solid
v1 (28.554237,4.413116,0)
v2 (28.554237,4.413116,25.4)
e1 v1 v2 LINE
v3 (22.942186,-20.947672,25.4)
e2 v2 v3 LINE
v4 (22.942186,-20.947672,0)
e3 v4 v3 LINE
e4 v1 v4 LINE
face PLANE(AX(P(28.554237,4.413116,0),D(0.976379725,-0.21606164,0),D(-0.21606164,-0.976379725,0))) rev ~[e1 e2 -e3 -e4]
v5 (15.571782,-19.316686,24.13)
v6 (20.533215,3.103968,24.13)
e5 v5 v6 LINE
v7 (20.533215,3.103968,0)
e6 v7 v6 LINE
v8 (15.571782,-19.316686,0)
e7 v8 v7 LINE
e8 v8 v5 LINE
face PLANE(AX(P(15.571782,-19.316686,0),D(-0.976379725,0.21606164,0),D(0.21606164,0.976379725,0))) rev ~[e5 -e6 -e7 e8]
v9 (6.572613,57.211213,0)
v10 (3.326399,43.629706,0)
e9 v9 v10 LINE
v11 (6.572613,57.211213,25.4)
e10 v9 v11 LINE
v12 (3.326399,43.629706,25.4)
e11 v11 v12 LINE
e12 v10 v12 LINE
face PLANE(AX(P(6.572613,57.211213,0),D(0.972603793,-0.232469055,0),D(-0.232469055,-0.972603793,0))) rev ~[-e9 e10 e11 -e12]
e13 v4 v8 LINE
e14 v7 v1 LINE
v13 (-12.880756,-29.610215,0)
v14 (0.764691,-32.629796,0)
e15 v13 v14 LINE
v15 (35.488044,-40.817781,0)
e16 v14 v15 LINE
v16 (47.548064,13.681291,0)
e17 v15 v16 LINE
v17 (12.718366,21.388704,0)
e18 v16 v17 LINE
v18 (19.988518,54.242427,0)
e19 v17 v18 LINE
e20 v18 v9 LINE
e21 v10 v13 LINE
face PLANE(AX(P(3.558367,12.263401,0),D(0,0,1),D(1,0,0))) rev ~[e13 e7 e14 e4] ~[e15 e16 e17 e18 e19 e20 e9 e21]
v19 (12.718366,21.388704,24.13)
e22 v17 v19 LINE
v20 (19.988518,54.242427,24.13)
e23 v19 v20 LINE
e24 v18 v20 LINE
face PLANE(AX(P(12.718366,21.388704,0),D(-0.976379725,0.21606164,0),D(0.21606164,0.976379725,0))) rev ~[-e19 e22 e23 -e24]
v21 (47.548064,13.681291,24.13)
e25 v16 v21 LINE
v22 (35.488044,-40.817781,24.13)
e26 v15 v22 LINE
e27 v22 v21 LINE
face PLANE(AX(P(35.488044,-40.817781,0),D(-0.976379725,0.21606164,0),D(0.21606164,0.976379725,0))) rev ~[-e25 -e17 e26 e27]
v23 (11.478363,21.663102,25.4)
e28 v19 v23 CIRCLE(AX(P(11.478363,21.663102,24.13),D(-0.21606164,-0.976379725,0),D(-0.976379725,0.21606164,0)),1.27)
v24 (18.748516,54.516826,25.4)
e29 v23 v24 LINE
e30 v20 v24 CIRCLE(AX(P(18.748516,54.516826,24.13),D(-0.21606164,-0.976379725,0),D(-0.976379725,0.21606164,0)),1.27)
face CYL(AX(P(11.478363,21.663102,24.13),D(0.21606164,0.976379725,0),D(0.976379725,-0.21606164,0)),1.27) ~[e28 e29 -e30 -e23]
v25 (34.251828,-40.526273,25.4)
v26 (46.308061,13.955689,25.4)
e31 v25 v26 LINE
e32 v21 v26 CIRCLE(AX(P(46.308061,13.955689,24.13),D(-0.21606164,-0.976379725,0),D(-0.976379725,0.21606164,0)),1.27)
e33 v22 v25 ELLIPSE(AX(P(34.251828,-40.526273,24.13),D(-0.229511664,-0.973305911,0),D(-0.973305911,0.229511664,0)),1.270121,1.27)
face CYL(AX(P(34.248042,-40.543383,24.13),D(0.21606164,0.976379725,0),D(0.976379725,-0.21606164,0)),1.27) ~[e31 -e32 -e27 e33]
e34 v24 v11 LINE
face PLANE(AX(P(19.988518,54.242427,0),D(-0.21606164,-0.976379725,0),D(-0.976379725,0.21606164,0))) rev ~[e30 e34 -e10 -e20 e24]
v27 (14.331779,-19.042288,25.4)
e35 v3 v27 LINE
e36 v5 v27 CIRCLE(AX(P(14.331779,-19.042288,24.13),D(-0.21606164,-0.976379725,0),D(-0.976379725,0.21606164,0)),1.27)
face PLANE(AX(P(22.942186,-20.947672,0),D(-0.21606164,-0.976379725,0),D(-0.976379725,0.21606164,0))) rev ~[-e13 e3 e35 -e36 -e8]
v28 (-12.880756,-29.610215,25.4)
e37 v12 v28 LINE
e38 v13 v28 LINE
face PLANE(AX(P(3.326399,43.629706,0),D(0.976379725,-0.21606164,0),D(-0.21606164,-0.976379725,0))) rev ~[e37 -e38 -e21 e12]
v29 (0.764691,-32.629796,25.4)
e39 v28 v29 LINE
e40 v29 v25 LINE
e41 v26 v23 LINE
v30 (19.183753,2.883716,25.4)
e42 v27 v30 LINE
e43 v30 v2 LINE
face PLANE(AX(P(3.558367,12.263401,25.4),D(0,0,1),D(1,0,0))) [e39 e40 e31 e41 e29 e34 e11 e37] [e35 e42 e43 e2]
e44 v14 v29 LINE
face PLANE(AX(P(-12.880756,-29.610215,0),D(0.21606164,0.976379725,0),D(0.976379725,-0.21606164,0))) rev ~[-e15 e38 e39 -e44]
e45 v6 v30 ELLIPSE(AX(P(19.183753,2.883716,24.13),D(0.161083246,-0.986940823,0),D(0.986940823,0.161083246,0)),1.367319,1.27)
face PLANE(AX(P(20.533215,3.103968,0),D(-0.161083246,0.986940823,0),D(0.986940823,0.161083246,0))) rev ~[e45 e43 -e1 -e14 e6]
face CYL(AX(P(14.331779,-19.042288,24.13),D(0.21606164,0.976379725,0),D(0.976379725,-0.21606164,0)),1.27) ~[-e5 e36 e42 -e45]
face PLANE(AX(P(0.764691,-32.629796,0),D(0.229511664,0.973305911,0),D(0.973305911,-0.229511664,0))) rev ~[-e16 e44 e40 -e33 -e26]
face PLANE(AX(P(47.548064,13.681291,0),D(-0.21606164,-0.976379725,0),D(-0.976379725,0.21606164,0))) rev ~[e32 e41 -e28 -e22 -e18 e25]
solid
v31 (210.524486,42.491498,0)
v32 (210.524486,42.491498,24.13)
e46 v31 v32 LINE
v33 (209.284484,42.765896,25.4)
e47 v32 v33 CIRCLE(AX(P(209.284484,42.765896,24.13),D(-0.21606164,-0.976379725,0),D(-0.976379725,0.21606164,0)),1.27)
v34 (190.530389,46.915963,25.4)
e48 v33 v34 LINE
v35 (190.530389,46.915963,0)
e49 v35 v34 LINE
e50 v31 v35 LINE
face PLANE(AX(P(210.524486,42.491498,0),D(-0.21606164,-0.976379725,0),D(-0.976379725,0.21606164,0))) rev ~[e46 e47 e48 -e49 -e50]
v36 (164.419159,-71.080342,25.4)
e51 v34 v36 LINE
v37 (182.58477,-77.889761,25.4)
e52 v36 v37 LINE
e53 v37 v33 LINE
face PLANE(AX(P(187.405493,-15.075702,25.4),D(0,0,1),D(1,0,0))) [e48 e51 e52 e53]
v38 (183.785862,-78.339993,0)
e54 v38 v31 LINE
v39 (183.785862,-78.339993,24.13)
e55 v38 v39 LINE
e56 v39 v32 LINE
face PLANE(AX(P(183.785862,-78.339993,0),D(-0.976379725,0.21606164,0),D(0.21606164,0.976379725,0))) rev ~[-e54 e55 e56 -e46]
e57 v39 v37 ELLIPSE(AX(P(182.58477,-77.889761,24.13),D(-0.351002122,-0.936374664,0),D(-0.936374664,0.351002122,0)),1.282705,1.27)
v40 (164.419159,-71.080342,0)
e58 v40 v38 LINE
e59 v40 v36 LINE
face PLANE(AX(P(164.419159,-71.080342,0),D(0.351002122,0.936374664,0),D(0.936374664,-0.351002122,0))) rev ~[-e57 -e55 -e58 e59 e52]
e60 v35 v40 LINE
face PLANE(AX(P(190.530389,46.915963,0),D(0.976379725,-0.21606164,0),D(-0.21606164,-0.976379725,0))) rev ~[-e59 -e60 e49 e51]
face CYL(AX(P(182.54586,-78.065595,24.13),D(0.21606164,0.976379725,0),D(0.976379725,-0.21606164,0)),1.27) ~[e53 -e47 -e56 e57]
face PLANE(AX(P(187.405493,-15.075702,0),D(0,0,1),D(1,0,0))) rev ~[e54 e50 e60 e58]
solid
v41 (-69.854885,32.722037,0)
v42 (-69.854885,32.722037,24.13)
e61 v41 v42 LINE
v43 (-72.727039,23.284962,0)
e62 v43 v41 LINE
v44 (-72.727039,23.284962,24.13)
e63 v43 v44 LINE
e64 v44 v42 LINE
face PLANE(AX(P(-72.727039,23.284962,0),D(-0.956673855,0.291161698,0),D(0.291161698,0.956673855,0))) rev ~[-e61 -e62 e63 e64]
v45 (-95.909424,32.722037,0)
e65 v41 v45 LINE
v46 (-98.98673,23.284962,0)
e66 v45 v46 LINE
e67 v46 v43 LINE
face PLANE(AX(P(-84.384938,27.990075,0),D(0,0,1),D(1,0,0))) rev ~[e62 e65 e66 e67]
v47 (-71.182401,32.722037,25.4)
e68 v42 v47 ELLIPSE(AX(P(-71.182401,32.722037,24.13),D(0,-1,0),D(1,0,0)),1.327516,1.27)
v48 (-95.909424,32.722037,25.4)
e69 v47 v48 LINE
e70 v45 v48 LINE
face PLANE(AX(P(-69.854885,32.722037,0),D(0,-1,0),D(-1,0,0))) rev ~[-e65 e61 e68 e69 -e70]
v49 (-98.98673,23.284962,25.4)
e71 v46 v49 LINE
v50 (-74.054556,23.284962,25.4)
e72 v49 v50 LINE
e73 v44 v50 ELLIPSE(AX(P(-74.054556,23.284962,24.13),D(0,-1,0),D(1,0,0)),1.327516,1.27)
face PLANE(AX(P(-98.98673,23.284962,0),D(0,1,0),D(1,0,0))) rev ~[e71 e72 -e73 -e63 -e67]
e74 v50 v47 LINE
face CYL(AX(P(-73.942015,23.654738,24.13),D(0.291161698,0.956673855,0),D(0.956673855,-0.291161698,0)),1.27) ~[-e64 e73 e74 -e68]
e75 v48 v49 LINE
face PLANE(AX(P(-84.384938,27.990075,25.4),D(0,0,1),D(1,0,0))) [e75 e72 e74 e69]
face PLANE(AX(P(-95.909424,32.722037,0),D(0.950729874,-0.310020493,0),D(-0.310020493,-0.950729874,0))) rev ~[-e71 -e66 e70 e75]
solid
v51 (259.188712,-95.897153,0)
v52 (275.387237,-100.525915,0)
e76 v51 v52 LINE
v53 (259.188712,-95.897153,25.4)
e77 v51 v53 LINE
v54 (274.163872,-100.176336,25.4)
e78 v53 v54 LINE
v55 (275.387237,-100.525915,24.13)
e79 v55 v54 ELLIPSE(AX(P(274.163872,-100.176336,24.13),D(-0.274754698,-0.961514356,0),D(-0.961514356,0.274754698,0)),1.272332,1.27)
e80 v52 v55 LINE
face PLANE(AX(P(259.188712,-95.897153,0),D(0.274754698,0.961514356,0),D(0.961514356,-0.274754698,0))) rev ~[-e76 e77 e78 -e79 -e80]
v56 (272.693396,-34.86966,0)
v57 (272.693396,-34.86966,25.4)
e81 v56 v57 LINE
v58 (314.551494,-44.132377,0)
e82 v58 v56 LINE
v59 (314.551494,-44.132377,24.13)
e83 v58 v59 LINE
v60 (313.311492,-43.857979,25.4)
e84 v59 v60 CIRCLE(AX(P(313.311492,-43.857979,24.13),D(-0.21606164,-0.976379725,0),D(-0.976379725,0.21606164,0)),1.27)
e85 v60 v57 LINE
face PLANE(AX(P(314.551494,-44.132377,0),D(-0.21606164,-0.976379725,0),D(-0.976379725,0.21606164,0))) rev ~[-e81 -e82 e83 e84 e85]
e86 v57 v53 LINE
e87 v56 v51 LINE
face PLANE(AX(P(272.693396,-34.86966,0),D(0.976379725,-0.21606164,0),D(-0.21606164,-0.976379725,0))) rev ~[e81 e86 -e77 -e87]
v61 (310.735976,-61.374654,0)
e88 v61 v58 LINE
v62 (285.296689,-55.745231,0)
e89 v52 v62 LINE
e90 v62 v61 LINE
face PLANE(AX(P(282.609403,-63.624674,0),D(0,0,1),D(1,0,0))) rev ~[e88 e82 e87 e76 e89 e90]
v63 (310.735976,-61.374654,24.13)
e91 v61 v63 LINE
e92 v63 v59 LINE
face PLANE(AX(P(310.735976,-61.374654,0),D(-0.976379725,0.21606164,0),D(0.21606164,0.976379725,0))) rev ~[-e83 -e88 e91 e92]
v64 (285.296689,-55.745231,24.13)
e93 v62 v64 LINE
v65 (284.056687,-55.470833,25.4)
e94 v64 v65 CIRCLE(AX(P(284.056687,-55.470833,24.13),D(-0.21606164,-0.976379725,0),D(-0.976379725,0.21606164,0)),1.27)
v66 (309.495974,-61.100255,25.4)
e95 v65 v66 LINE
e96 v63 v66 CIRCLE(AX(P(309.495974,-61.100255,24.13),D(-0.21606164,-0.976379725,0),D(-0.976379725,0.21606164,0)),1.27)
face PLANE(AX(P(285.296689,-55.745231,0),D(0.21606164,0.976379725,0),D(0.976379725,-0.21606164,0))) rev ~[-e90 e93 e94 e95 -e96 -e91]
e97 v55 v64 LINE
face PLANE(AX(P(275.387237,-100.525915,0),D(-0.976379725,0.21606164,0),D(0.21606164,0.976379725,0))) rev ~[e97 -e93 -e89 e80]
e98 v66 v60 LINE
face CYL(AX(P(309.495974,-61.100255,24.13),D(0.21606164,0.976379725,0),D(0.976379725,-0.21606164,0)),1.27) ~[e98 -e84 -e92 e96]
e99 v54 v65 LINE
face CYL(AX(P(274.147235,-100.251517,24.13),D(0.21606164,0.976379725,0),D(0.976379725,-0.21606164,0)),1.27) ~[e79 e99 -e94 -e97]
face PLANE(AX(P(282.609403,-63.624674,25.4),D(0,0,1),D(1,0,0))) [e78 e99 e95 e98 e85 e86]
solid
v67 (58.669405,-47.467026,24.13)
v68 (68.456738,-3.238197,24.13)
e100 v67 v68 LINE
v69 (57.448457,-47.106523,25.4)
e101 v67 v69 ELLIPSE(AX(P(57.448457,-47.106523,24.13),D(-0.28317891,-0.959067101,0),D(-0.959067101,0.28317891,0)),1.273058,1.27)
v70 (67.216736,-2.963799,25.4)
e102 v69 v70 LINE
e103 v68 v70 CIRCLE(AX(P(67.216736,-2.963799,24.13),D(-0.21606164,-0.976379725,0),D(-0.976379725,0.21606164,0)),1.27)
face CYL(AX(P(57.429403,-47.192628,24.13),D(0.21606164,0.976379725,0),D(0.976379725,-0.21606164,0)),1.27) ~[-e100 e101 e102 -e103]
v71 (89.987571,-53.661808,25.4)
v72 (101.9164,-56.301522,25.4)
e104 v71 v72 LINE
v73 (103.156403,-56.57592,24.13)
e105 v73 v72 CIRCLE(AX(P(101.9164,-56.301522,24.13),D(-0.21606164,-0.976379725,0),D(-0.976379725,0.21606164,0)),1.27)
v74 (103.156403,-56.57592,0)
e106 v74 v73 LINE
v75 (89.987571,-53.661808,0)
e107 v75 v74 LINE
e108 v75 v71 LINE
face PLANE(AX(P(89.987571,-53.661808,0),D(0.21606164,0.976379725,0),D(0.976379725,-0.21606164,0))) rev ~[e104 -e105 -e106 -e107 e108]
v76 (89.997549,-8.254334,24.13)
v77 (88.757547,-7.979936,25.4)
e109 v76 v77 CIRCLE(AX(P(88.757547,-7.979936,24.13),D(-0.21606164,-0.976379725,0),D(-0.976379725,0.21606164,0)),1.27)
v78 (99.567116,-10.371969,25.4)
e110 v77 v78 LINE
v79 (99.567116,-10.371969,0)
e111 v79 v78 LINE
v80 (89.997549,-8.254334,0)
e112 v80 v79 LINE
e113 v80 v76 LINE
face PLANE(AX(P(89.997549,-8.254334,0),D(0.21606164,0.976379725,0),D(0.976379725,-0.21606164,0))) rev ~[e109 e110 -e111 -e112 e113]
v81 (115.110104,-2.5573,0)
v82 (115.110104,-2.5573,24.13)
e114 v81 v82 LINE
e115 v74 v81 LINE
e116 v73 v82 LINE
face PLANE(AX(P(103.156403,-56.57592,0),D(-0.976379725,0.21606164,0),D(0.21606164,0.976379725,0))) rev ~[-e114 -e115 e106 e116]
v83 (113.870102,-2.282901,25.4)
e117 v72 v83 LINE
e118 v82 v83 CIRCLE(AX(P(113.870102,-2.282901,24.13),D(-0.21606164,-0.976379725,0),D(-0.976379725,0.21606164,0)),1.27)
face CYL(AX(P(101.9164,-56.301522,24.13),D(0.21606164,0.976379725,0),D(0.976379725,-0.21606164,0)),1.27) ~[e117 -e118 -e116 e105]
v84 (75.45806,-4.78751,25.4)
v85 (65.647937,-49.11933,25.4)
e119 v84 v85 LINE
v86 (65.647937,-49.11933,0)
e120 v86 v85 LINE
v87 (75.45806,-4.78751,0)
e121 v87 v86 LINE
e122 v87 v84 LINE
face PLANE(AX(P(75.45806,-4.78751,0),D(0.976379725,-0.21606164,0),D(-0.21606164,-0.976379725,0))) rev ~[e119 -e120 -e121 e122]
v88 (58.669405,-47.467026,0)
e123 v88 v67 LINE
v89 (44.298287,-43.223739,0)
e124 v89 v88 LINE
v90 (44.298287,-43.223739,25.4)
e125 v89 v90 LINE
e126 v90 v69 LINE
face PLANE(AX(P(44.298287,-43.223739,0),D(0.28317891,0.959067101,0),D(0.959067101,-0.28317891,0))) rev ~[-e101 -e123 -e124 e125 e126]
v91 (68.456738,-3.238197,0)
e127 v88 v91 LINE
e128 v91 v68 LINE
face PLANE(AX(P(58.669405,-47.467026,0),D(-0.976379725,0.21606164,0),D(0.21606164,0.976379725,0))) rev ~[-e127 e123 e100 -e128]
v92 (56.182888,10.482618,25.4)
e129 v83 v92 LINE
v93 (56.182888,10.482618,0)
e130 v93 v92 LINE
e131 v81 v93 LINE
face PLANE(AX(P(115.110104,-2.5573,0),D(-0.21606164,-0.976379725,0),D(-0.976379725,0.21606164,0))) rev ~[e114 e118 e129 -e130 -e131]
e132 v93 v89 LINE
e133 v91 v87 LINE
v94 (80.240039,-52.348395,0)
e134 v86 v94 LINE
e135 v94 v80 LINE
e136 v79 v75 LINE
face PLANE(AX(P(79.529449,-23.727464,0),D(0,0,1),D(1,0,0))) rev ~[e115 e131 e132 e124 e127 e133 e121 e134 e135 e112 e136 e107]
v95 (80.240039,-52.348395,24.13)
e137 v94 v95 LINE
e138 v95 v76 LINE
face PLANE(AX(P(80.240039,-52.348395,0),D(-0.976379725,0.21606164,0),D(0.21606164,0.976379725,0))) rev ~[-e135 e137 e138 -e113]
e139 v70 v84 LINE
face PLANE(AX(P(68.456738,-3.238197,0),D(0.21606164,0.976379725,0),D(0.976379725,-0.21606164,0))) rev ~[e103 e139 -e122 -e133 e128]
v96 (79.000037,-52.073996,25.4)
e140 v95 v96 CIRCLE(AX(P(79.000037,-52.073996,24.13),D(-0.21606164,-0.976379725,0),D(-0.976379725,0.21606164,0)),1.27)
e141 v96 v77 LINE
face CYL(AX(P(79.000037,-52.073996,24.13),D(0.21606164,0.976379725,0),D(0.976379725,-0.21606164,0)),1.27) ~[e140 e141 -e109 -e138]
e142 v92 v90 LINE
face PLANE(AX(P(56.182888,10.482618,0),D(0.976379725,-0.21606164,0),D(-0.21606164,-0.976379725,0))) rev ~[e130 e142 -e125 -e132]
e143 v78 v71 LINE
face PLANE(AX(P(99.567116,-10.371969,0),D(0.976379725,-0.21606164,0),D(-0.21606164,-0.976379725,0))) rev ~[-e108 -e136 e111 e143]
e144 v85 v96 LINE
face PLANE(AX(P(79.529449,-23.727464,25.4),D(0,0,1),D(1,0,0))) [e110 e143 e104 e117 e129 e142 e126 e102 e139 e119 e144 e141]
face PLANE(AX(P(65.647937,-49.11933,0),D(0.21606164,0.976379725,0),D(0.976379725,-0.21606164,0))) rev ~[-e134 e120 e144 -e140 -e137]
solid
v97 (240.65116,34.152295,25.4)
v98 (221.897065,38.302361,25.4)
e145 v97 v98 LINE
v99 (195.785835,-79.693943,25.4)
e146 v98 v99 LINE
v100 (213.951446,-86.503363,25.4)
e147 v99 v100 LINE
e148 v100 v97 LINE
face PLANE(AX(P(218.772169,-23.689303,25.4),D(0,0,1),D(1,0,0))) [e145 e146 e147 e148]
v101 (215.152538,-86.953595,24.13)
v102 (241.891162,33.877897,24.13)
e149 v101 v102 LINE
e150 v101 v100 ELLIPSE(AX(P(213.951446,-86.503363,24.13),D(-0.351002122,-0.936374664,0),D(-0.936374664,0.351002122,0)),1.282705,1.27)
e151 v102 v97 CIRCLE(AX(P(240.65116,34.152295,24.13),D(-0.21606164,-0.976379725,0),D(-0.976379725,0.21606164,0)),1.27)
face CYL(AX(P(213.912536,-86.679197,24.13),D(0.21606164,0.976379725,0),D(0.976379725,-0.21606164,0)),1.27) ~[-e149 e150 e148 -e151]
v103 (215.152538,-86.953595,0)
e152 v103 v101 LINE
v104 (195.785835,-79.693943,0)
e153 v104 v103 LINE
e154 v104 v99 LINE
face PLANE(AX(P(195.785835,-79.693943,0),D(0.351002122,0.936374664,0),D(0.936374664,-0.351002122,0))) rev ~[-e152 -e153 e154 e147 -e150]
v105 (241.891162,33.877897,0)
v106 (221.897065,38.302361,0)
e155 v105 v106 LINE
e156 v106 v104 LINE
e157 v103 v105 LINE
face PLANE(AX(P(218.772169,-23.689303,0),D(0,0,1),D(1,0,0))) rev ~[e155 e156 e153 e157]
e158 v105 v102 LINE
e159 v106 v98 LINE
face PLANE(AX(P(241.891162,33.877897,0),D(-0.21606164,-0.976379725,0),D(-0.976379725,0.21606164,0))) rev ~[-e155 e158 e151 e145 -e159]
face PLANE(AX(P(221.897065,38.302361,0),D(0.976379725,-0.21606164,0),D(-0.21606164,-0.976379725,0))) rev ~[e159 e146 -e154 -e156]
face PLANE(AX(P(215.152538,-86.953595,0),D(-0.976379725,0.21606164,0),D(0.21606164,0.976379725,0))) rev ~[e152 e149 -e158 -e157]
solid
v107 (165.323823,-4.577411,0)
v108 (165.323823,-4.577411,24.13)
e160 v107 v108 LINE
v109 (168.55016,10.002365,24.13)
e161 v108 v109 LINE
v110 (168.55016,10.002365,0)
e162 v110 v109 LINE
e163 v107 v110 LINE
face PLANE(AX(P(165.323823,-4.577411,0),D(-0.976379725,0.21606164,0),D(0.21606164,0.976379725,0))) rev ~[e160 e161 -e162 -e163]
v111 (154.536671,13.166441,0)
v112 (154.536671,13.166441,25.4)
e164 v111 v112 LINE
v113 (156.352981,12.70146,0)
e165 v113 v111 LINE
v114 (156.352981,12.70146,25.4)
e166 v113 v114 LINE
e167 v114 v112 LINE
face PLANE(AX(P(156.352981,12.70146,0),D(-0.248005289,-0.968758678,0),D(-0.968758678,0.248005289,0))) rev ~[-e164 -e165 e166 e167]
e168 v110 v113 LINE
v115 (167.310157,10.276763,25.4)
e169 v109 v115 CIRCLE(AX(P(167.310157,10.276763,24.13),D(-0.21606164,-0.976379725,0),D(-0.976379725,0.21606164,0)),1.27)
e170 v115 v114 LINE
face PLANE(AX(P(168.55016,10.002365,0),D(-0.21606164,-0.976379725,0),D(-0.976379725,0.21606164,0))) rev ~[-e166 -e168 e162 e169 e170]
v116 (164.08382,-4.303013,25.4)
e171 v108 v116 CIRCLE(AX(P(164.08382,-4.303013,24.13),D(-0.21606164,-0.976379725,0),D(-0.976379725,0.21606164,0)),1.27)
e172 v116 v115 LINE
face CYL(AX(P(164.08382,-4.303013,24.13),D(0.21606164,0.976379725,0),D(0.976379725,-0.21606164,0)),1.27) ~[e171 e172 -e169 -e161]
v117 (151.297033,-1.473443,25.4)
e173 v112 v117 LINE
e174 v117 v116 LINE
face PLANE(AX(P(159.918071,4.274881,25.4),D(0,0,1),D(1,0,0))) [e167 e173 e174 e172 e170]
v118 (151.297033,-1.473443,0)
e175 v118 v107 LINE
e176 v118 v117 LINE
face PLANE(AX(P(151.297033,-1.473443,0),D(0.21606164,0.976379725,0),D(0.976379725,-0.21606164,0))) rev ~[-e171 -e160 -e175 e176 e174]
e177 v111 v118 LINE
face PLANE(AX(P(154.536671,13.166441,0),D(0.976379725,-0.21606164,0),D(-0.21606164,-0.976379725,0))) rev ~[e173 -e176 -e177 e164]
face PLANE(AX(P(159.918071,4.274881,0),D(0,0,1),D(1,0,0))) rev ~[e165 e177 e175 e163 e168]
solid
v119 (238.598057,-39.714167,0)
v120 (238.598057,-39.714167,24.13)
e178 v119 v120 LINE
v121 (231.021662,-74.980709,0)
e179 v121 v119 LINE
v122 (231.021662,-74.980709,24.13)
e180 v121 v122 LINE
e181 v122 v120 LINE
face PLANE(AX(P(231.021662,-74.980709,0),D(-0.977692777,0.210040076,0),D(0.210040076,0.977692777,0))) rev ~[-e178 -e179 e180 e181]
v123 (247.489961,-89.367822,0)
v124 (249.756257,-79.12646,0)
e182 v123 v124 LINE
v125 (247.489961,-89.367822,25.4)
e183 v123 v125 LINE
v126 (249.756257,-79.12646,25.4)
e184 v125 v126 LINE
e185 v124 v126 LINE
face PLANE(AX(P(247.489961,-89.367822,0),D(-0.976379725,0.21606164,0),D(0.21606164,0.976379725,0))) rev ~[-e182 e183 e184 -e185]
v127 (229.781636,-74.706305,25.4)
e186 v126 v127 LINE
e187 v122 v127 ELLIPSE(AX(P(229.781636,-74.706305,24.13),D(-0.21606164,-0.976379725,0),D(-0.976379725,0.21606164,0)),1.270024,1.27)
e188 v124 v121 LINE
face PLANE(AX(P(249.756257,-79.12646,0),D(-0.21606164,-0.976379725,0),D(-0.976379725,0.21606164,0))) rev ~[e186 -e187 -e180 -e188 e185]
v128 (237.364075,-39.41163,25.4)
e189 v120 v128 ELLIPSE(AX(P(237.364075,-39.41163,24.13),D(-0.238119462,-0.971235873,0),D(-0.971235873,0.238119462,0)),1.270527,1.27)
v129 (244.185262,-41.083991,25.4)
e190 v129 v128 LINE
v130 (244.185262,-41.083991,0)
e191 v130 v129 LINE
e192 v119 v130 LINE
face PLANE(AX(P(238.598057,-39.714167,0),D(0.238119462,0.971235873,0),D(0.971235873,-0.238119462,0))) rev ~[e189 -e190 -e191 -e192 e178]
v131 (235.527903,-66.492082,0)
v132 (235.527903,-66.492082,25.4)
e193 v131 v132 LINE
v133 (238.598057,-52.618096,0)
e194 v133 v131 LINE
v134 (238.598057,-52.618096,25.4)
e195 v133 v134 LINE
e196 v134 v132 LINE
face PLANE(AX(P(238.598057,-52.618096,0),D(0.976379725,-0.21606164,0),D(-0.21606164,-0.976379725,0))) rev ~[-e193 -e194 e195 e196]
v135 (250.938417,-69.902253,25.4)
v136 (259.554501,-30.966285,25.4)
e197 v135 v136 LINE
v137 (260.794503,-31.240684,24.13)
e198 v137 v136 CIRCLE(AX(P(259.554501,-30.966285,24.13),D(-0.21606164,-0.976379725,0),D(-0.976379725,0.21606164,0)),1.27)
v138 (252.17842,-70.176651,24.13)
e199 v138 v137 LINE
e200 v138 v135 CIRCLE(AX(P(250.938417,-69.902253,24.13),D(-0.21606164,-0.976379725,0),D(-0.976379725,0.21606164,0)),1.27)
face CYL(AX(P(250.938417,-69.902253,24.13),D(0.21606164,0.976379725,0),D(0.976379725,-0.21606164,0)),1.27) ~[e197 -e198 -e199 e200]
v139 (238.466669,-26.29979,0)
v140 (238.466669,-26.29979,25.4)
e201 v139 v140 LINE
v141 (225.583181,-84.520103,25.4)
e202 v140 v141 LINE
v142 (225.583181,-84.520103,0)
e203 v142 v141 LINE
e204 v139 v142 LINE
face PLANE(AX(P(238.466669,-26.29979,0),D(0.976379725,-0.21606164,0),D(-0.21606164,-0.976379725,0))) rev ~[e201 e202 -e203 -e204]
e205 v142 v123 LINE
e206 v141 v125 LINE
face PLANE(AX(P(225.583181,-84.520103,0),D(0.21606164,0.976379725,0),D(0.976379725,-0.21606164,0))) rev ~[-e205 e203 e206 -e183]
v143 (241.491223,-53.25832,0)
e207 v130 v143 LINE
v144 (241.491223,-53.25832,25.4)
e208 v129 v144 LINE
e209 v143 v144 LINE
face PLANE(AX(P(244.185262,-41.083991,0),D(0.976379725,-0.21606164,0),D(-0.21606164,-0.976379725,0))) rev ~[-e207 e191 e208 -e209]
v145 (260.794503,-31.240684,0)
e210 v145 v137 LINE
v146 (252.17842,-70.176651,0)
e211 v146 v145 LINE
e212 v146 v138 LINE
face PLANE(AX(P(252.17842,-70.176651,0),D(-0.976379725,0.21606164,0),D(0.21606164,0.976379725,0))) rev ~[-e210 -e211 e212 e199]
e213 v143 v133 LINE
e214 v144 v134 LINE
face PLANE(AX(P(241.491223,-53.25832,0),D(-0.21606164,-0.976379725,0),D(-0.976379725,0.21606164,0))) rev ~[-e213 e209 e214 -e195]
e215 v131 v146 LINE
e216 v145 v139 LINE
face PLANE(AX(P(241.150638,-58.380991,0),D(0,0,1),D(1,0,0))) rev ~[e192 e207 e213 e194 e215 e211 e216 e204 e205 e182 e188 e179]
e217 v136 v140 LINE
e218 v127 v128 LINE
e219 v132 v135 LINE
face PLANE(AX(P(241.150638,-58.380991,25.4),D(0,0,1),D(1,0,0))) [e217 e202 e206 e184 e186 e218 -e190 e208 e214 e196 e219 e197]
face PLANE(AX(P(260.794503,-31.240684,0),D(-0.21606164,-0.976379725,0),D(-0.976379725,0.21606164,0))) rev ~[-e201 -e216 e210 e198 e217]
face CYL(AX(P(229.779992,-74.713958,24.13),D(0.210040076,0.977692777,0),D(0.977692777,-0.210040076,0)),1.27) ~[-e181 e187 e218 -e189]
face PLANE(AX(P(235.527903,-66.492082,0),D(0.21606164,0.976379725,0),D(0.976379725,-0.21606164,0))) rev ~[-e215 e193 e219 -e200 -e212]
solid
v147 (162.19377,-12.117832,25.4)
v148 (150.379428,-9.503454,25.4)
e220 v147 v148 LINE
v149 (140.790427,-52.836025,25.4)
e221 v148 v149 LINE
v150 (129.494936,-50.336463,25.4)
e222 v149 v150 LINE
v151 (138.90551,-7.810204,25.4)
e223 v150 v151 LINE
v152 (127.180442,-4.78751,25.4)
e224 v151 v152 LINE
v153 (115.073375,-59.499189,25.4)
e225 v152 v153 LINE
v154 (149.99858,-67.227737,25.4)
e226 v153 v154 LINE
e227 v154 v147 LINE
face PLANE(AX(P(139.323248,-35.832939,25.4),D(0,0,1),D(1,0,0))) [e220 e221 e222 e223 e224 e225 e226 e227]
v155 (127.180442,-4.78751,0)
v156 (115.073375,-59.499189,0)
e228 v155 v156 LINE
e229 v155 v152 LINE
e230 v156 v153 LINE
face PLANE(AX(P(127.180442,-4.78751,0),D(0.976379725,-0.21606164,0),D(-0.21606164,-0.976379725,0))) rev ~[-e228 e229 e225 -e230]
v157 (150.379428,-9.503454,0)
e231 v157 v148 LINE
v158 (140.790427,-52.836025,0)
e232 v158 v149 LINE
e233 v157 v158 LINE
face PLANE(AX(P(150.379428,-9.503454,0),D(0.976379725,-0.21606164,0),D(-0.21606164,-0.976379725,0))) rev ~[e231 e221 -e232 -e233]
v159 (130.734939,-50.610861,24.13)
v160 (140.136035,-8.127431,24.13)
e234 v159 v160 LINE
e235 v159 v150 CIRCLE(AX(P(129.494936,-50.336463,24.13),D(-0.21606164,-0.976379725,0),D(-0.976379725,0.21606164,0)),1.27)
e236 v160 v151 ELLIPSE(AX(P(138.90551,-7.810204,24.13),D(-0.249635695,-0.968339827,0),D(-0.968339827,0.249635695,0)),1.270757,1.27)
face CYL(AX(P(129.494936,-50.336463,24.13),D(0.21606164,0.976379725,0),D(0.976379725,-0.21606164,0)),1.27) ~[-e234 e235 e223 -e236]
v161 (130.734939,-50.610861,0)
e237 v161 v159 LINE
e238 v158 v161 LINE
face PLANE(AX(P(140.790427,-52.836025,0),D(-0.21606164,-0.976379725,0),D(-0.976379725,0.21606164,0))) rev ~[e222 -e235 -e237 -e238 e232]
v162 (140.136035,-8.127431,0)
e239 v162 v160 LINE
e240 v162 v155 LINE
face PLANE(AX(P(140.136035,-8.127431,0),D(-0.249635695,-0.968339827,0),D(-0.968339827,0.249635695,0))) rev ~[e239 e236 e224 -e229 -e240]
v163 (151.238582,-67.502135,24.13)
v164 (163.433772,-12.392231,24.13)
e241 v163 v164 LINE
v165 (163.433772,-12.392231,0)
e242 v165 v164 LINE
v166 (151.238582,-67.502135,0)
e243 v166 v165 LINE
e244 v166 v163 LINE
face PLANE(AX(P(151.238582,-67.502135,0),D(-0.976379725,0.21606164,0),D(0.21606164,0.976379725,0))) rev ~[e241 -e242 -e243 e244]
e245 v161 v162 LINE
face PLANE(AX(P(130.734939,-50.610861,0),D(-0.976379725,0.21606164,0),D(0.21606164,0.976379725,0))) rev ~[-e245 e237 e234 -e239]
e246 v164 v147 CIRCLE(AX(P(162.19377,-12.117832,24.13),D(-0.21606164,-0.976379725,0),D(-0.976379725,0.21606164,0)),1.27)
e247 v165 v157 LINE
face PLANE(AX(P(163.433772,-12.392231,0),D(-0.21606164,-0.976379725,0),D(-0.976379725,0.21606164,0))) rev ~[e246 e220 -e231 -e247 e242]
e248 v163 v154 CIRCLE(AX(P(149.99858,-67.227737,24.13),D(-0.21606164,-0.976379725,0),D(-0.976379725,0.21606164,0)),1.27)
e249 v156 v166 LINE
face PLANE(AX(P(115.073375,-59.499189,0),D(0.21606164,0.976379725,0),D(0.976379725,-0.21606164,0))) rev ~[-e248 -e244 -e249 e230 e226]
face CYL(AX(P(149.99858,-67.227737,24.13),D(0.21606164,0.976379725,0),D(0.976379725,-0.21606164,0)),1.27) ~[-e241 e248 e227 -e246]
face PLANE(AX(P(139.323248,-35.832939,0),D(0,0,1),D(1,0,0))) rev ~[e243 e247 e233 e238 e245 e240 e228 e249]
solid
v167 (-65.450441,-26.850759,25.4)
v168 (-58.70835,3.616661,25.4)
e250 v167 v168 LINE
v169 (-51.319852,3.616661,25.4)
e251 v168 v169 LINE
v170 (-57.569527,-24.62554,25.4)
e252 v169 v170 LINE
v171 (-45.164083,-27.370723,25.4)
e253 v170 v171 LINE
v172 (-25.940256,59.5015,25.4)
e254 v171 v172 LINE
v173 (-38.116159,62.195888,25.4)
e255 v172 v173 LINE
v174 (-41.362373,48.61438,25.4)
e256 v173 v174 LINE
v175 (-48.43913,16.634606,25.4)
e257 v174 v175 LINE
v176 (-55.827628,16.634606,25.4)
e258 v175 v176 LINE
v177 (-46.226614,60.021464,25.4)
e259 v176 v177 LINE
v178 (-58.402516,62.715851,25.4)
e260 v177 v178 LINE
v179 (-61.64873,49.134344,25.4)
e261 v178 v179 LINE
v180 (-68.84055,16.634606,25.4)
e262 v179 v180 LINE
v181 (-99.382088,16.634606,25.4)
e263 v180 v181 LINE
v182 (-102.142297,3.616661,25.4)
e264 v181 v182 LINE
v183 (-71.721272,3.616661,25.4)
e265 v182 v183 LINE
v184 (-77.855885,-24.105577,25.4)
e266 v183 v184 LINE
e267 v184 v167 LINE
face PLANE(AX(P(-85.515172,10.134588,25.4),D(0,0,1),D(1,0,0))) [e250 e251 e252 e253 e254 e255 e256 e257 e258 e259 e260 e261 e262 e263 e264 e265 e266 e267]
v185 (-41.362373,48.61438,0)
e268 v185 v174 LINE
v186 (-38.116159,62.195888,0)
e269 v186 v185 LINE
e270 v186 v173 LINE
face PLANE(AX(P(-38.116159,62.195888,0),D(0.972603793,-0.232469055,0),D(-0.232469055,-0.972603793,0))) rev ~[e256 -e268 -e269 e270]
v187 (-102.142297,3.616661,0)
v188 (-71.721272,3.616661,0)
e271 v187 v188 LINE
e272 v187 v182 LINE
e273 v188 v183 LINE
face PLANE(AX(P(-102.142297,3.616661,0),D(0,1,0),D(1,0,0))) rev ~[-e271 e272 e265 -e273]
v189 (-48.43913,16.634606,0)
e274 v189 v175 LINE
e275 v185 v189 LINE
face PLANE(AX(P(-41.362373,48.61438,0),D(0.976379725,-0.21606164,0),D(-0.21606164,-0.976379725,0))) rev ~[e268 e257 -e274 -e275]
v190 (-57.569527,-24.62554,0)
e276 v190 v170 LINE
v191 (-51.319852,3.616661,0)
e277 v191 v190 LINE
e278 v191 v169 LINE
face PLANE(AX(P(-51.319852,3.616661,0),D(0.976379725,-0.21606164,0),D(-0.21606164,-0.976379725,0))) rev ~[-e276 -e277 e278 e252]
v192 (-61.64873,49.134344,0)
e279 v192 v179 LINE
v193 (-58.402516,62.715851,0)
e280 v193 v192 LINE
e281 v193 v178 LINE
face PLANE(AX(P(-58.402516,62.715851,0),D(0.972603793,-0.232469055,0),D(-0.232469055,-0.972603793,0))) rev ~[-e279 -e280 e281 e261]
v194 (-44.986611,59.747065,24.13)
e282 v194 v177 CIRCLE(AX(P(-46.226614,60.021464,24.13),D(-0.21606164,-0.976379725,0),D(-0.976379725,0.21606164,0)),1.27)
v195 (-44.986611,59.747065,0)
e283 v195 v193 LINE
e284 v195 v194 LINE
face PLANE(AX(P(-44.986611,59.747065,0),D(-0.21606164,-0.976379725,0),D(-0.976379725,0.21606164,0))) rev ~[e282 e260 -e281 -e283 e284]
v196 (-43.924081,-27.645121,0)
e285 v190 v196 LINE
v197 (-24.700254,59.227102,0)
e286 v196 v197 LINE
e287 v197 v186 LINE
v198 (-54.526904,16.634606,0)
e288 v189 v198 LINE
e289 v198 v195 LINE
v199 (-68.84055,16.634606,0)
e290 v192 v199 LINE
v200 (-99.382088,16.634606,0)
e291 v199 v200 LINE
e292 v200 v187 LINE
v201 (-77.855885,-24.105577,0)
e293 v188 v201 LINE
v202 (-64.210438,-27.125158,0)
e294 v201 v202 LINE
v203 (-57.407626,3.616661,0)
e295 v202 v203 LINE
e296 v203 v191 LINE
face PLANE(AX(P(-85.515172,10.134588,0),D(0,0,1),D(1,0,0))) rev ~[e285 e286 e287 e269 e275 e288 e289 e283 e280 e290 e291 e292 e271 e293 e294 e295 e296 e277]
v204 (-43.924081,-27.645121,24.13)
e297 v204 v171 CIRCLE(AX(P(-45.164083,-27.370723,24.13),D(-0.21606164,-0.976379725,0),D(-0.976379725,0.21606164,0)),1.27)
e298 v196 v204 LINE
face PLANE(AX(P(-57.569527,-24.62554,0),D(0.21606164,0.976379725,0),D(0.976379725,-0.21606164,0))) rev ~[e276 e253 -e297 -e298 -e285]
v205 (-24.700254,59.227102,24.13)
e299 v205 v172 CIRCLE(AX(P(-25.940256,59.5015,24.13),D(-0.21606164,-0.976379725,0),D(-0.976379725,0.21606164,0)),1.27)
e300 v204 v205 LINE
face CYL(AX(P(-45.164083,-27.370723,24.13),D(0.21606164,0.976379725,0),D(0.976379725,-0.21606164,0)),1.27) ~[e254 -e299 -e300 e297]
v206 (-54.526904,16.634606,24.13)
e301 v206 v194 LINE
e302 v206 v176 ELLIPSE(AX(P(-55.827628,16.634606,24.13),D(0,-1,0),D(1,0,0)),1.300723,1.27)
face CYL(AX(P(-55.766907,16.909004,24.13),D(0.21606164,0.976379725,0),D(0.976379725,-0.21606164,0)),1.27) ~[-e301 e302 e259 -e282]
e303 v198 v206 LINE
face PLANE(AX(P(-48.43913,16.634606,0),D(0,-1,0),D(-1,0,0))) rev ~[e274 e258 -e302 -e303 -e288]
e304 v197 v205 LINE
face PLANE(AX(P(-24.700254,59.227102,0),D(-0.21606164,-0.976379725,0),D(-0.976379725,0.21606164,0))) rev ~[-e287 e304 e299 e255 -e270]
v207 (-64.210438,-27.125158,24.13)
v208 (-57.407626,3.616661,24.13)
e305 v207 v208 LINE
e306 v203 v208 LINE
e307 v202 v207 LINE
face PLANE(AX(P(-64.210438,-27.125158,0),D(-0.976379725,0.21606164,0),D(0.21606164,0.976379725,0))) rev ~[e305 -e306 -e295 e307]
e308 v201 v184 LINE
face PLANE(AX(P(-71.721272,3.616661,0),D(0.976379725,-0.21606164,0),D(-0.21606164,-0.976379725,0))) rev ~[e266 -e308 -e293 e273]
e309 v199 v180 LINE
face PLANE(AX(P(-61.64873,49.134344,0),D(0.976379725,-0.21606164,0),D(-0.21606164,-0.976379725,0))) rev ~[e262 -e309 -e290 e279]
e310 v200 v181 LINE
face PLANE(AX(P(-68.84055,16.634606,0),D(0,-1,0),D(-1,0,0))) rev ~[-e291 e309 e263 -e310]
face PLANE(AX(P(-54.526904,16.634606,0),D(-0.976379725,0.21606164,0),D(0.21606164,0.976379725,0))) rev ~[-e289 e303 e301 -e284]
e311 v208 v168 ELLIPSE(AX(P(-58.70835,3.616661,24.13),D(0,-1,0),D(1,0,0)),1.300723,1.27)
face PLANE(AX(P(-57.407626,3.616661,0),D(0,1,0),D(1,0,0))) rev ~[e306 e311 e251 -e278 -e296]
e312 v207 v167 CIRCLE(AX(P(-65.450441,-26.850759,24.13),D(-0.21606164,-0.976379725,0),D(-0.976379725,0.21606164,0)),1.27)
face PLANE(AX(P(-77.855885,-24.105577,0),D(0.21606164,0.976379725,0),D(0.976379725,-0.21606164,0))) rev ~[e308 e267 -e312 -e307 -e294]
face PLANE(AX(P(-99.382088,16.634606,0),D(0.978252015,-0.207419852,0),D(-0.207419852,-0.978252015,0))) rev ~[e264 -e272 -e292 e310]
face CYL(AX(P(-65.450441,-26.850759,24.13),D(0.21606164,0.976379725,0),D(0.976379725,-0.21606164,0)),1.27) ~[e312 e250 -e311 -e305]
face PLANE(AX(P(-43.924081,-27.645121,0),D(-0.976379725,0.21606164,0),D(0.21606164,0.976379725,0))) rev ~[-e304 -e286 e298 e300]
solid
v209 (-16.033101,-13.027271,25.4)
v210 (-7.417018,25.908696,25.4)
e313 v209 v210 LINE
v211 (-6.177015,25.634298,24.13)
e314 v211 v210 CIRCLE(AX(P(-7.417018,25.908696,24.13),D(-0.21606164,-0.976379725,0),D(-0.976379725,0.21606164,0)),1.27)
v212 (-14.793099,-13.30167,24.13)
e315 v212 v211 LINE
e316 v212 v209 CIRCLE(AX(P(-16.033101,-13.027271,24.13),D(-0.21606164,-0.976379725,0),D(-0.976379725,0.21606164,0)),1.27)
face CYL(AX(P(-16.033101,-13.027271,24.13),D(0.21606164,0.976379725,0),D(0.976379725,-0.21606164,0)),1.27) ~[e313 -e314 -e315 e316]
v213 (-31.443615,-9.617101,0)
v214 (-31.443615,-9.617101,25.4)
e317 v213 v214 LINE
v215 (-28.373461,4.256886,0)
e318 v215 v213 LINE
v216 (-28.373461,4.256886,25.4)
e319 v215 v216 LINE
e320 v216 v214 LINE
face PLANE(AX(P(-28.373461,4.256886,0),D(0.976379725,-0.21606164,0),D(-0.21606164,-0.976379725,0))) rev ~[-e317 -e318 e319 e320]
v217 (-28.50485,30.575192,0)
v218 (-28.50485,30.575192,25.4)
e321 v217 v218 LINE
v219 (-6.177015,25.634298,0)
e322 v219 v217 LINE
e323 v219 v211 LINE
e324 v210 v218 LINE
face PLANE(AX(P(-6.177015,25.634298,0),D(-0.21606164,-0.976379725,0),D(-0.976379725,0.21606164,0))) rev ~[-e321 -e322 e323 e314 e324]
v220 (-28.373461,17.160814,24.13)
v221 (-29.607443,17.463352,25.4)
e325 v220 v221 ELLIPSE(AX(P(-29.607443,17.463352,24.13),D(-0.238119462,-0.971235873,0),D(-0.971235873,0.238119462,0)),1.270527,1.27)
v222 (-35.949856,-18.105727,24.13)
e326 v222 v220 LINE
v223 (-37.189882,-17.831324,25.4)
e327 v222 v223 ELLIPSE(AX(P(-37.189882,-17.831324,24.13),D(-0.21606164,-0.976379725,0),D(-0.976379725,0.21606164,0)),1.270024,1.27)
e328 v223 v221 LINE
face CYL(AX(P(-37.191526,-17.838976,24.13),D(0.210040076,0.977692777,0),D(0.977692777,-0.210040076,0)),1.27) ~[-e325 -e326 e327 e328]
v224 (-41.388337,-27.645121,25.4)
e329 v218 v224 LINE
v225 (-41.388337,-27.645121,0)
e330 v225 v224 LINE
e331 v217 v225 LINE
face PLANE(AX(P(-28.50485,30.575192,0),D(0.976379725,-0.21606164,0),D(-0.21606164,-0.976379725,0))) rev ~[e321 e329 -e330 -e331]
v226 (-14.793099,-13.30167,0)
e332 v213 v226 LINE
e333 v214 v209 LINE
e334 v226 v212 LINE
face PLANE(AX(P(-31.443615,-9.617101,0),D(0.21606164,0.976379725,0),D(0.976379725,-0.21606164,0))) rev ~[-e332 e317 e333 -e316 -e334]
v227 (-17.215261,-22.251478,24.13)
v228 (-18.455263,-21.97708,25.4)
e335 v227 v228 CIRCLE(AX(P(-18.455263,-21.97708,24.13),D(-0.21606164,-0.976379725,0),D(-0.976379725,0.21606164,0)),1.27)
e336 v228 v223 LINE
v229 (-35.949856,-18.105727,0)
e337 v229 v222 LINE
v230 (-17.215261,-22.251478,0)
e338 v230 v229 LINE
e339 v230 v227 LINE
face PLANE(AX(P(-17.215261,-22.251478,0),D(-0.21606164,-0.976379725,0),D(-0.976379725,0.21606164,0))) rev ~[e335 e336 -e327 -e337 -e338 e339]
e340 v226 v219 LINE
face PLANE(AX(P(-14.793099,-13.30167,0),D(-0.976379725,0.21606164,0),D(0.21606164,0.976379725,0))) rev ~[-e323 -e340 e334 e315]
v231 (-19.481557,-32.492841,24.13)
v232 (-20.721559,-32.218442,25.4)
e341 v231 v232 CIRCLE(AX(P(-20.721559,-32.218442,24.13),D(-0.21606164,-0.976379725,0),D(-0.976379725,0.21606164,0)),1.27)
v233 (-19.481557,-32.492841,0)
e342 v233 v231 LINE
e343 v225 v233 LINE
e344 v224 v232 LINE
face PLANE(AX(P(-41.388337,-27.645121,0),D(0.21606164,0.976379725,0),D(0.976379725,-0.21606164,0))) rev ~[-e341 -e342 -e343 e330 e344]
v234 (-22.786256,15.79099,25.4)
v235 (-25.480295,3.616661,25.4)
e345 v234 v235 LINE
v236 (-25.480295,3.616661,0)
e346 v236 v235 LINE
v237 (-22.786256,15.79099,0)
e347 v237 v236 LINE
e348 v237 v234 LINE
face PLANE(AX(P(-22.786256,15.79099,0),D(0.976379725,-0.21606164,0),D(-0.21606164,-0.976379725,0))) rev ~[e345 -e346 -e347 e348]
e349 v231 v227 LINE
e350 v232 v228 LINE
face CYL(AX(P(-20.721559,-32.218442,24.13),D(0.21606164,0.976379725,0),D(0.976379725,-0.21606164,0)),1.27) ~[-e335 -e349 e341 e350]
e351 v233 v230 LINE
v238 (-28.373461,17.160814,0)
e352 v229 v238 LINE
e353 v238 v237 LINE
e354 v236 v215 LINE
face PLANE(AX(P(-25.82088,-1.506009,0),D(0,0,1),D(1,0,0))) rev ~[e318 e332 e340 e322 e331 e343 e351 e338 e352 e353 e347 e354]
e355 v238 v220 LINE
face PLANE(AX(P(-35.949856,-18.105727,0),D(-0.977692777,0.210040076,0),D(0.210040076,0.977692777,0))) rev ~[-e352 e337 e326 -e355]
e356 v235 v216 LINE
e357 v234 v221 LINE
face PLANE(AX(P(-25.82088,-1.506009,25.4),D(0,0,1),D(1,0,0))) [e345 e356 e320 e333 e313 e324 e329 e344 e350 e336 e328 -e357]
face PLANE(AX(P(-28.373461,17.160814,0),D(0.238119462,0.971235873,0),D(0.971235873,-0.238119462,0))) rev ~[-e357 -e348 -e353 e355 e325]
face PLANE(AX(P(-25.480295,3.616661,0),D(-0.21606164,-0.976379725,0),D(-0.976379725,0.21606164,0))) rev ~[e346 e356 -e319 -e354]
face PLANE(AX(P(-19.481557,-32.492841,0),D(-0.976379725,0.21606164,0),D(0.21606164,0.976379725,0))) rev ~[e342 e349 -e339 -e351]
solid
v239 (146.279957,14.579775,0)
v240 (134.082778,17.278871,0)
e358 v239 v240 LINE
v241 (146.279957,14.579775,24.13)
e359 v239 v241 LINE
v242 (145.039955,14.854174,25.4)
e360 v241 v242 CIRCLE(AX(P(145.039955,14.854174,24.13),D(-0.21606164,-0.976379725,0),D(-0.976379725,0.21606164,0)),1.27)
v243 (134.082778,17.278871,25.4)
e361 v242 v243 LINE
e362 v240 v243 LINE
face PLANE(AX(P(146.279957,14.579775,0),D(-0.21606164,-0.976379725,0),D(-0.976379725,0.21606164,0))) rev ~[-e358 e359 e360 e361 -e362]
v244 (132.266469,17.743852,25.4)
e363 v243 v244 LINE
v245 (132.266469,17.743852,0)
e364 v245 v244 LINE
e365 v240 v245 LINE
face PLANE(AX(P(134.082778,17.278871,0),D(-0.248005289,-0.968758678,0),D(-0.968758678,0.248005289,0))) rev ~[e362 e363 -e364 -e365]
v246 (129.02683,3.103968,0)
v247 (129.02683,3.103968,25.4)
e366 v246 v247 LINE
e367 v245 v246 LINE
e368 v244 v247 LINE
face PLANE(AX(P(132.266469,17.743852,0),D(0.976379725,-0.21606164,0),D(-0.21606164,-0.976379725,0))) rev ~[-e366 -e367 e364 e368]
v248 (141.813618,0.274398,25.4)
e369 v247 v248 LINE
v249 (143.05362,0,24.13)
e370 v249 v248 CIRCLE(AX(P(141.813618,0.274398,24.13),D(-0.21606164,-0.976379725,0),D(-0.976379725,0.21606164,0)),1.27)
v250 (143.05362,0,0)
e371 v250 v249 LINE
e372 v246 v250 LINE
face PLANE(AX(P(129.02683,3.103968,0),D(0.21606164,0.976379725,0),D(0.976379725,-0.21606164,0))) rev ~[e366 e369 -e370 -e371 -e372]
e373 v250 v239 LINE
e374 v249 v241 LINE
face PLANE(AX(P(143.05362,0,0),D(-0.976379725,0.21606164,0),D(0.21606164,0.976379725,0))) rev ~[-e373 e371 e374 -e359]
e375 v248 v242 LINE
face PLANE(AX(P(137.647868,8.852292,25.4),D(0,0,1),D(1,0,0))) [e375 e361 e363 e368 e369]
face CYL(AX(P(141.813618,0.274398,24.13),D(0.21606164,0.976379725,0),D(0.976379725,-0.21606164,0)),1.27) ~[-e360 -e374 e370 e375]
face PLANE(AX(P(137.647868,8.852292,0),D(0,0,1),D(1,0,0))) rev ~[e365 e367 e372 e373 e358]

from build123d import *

# Parameters (mm, degrees)
F1_DEPTH = 25.4
F2_R     = 1.27
F2_2_R   = 1.27
F2_3_R   = 1.27
F2_4_R   = 1.27
F2_5_R   = 1.27
F2_6_R   = 1.27
F2_7_R   = 1.27
F2_8_R   = 1.27
F2_9_R   = 1.27
F2_10_R  = 1.27
F2_11_R  = 1.27
F2_12_R  = 1.27


with BuildPart() as f1:
    # F0 (on Top) → F1 (new body)
    with BuildSketch(Plane.XY):
        Polygon((-69.8548853397, 32.7220372856), (-95.9094241261, 32.7220372856), (-98.9867299795, 23.2849624008), (-72.7270394564, 23.2849624008), align=None)
    extrude(amount=F1_DEPTH)

    # F2#3
    f2_3_edges = [f1.edges().sort_by_distance(p)[0] for p in [
        (-71.290962, 28.0035, 25.4),
    ]]
    fillet(f2_3_edges, radius=F2_3_R)


with BuildPart() as f1b:
    # F0 (on Top) → F1, piece 2 (new body)
    with BuildSketch(Plane.XY):
        Polygon((-71.7212715714, 3.6166611477), (-68.8405496484, 16.6346058249), (-99.3820875883, 16.6346058249), (-102.1422967315, 3.6166611477), align=None)
        Polygon((-54.5269044594, 16.6346058249), (-68.8405496484, 16.6346058249), (-71.7212715714, 3.6166611477), (-57.4076263824, 3.6166611477), align=None)
        Polygon((-48.4391301191, 16.6346058249), (-54.5269044594, 16.6346058249), (-57.4076263824, 3.6166611477), (-51.3198520421, 3.6166611477), align=None)
        Polygon((-57.4076263824, 3.6166611477), (-71.7212715714, 3.6166611477), (-77.8558850288, -24.1055767983), (-64.2104384761, -27.1251576928), align=None)
        Polygon((-41.3623726554, 48.6143802077), (-48.4391301191, 16.6346058249), (-51.3198520421, 3.6166611477), (-57.5695274957, -24.6255404531), (-43.9240809429, -27.6451213476), (-24.7002538621, 59.227101697), (-38.1161585192, 62.1958876015), align=None)
        Polygon((-58.4025160524, 62.7158512563), (-61.6487301886, 49.1343438625), (-68.8405496484, 16.6346058249), (-54.5269044594, 16.6346058249), (-44.9866113953, 59.7470653518), align=None)
    extrude(amount=F1_DEPTH)

    # F2
    f2_edges = [f1b.edges().sort_by_distance(p)[0] for p in [
        (-49.756758, 38.190836, 25.4),
        (-60.809032, -11.754248, 25.4),
        (-34.312167, 15.79099, 25.4),
    ]]
    fillet(f2_edges, radius=F2_R)


with BuildPart() as f1c:
    # F0 (on Top) → F1, piece 3 (new body)
    with BuildSketch(Plane.XY):
        Polygon((-28.3734610908, 17.1608142555), (-22.7862559259, 15.7909901747), (-25.4802953765, 3.6166611477), (-28.3734610908, 4.2568855538), (-31.4436152838, -9.6171010728), (-14.7930985255, -13.3016695545), (-6.1770153091, 25.6342977637), (-28.5048495002, 30.5751915101), (-41.3883373142, -27.6451213476), (-19.4815568018, -32.4928407418), (-17.2152607297, -22.2514784453), (-35.9498564836, -18.1057271732), align=None)
    extrude(amount=F1_DEPTH)

    # F2#2
    f2_2_edges = [f1c.edges().sort_by_distance(p)[0] for p in [
        (-32.161659, -0.472456, 25.4),
        (-10.485057, 6.166314, 25.4),
        (-18.348409, -27.37216, 25.4),
    ]]
    fillet(f2_2_edges, radius=F2_2_R)


with BuildPart() as f1d:
    # F0 (on Top) → F1, piece 4 (new body)
    with BuildSketch(Plane.XY):
        Polygon((6.572613388, 57.2112132996), (3.3263992518, 43.6297059059), (-12.8807555884, -29.6102147549), (0.7646909643, -32.6297956495), (12.7183656054, 21.3887036461), (19.9885180452, 54.2424273952), align=None)
        Polygon((12.7183656054, 21.3887036461), (0.7646909643, -32.6297956495), (35.48804385, -40.8177809655), (47.5480636574, 13.6812907452), (34.0116305968, 16.6767482036), align=None)
        Polygon((15.5717815686, -19.3166861529), (20.5332152545, 3.103967756), (28.5542372746, 4.4131164266), (22.942185513, -20.9476720535), align=None, mode=Mode.SUBTRACT)
    extrude(amount=F1_DEPTH)

    # F2#4
    f2_4_edges = [f1d.edges().sort_by_distance(p)[0] for p in [
        (16.353442, 37.815566, 25.4),
        (18.052498, -8.106359, 25.4),
        (41.518054, -13.568245, 25.4),
    ]]
    fillet(f2_4_edges, radius=F2_4_R)


with BuildPart() as f1e:
    # F0 (on Top) → F1, piece 5 (new body)
    with BuildSketch(Plane.XY):
        Polygon((56.1828884811, 10.4826177451), (44.2982874811, -43.2237386703), (58.6694051347, -47.4670261571), (68.4567379189, -3.2381973674), (75.4580601084, -4.7875097068), (65.647936566, -49.1193296343), (80.2400389419, -52.3483946103), (89.9975491157, -8.2543338071), (99.5671160161, -10.3719692593), (89.9875708898, -53.6618083416), (103.1564025063, -56.5759198146), (115.1101039259, -2.5572995076), align=None)
    extrude(amount=F1_DEPTH)

    # F2#5
    f2_5_edges = [f1e.edges().sort_by_distance(p)[0] for p in [
        (63.563072, -25.352612, 25.4),
        (85.118794, -30.301364, 25.4),
        (109.133253, -29.56661, 25.4),
    ]]
    fillet(f2_5_edges, radius=F2_5_R)


with BuildPart() as f1f:
    # F0 (on Top) → F1, piece 6 (new body)
    with BuildSketch(Plane.XY):
        Polygon((140.1360348006, -8.127430539), (127.180442214, -4.7875097068), (115.0733747565, -59.4991891328), (151.2385817677, -67.5021348565), (163.4337717843, -12.3922307393), (150.379428067, -9.503454126), (140.7904268017, -52.8360253771), (130.7349386316, -50.6108611184), align=None)
    extrude(amount=F1_DEPTH)

    # F2#6
    f2_6_edges = [f1f.edges().sort_by_distance(p)[0] for p in [
        (135.435487, -29.369146, 25.4),
        (157.336177, -39.947183, 25.4),
    ]]
    fillet(f2_6_edges, radius=F2_6_R)


with BuildPart() as f1g:
    # F0 (on Top) → F1, piece 7 (new body)
    with BuildSketch(Plane.XY):
        Polygon((154.5366714331, 13.1664413276), (151.2970328331, -1.473443117), (165.3238225088, -4.577410873), (168.5501596656, 10.0023645234), (156.3529807509, 12.7014603922), align=None)
    extrude(amount=F1_DEPTH)

    # F2#12
    f2_12_edges = [f1g.edges().sort_by_distance(p)[0] for p in [
        (166.936991, 2.712477, 25.4),
    ]]
    fillet(f2_12_edges, radius=F2_12_R)


with BuildPart() as f1h:
    # F0 (on Top) → F1, piece 8 (new body)
    with BuildSketch(Plane.XY):
        Polygon((132.2664687964, 17.7438522006), (129.0268301964, 3.103967756), (143.0536198721, 0), (146.2799570289, 14.5797753965), (134.0827781142, 17.2788712652), align=None)
    extrude(amount=F1_DEPTH)

    # F2#11
    f2_11_edges = [f1h.edges().sort_by_distance(p)[0] for p in [
        (144.666788, 7.289888, 25.4),
    ]]
    fillet(f2_11_edges, radius=F2_11_R)


with BuildPart() as f1i:
    # F0 (on Top) → F1, piece 9 (new body)
    with BuildSketch(Plane.XY):
        Polygon((190.5303888261, 46.9159626722), (164.4191592932, -71.0803419352), (183.785862088, -78.3399934819), (210.5244860124, 42.4914981716), align=None)
    extrude(amount=F1_DEPTH)

    # F2#7
    f2_7_edges = [f1i.edges().sort_by_distance(p)[0] for p in [
        (197.155174, -17.924248, 25.4),
    ]]
    fillet(f2_7_edges, radius=F2_7_R)


with BuildPart() as f1j:
    # F0 (on Top) → F1, piece 10 (new body)
    with BuildSketch(Plane.XY):
        Polygon((221.8970649182, 38.3023613453), (195.7858353853, -79.6939432621), (215.1525381802, -86.9535948088), (241.8911621046, 33.8778968447), align=None)
    extrude(amount=F1_DEPTH)

    # F2#8
    f2_8_edges = [f1j.edges().sort_by_distance(p)[0] for p in [
        (228.52185, -26.537849, 25.4),
    ]]
    fillet(f2_8_edges, radius=F2_8_R)


with BuildPart() as f1k:
    # F0 (on Top) → F1, piece 11 (new body)
    with BuildSketch(Plane.XY):
        Polygon((238.5980570085, -39.7141671486), (244.1852621734, -41.0839912294), (241.4912227229, -53.2583202564), (238.5980570085, -52.6180958503), (235.5279028156, -66.4920824768), (252.1784195738, -70.1766509586), (260.7945027903, -31.2406836404), (238.4666685992, -26.299789894), (225.5831807852, -84.5201027517), (247.4899612975, -89.3678221459), (249.7562573696, -79.1264598494), (231.0216616157, -74.9807085772), align=None)
    extrude(amount=F1_DEPTH)

    # F2#9
    f2_9_edges = [f1k.edges().sort_by_distance(p)[0] for p in [
        (234.809859, -57.347438, 25.4),
        (256.486461, -50.708667, 25.4),
    ]]
    fillet(f2_9_edges, radius=F2_9_R)


with BuildPart() as f1l:
    # F0 (on Top) → F1, piece 12 (new body)
    with BuildSketch(Plane.XY):
        Polygon((272.6933962275, -34.8696600853), (259.1887116432, -95.8971530199), (275.3872373663, -100.5259149405), (285.2966893195, -55.745231224), (310.7359760515, -61.3746537489), (314.5514941669, -44.1323773097), align=None)
    extrude(amount=F1_DEPTH)

    # F2#10
    f2_10_edges = [f1l.edges().sort_by_distance(p)[0] for p in [
        (280.341963, -78.135573, 25.4),
        (312.643735, -52.753516, 25.4),
    ]]
    fillet(f2_10_edges, radius=F2_10_R)


solid = Compound([f1.part, f1b.part, f1c.part, f1d.part, f1e.part, f1f.part, f1g.part, f1h.part, f1i.part, f1j.part, f1k.part, f1l.part])
